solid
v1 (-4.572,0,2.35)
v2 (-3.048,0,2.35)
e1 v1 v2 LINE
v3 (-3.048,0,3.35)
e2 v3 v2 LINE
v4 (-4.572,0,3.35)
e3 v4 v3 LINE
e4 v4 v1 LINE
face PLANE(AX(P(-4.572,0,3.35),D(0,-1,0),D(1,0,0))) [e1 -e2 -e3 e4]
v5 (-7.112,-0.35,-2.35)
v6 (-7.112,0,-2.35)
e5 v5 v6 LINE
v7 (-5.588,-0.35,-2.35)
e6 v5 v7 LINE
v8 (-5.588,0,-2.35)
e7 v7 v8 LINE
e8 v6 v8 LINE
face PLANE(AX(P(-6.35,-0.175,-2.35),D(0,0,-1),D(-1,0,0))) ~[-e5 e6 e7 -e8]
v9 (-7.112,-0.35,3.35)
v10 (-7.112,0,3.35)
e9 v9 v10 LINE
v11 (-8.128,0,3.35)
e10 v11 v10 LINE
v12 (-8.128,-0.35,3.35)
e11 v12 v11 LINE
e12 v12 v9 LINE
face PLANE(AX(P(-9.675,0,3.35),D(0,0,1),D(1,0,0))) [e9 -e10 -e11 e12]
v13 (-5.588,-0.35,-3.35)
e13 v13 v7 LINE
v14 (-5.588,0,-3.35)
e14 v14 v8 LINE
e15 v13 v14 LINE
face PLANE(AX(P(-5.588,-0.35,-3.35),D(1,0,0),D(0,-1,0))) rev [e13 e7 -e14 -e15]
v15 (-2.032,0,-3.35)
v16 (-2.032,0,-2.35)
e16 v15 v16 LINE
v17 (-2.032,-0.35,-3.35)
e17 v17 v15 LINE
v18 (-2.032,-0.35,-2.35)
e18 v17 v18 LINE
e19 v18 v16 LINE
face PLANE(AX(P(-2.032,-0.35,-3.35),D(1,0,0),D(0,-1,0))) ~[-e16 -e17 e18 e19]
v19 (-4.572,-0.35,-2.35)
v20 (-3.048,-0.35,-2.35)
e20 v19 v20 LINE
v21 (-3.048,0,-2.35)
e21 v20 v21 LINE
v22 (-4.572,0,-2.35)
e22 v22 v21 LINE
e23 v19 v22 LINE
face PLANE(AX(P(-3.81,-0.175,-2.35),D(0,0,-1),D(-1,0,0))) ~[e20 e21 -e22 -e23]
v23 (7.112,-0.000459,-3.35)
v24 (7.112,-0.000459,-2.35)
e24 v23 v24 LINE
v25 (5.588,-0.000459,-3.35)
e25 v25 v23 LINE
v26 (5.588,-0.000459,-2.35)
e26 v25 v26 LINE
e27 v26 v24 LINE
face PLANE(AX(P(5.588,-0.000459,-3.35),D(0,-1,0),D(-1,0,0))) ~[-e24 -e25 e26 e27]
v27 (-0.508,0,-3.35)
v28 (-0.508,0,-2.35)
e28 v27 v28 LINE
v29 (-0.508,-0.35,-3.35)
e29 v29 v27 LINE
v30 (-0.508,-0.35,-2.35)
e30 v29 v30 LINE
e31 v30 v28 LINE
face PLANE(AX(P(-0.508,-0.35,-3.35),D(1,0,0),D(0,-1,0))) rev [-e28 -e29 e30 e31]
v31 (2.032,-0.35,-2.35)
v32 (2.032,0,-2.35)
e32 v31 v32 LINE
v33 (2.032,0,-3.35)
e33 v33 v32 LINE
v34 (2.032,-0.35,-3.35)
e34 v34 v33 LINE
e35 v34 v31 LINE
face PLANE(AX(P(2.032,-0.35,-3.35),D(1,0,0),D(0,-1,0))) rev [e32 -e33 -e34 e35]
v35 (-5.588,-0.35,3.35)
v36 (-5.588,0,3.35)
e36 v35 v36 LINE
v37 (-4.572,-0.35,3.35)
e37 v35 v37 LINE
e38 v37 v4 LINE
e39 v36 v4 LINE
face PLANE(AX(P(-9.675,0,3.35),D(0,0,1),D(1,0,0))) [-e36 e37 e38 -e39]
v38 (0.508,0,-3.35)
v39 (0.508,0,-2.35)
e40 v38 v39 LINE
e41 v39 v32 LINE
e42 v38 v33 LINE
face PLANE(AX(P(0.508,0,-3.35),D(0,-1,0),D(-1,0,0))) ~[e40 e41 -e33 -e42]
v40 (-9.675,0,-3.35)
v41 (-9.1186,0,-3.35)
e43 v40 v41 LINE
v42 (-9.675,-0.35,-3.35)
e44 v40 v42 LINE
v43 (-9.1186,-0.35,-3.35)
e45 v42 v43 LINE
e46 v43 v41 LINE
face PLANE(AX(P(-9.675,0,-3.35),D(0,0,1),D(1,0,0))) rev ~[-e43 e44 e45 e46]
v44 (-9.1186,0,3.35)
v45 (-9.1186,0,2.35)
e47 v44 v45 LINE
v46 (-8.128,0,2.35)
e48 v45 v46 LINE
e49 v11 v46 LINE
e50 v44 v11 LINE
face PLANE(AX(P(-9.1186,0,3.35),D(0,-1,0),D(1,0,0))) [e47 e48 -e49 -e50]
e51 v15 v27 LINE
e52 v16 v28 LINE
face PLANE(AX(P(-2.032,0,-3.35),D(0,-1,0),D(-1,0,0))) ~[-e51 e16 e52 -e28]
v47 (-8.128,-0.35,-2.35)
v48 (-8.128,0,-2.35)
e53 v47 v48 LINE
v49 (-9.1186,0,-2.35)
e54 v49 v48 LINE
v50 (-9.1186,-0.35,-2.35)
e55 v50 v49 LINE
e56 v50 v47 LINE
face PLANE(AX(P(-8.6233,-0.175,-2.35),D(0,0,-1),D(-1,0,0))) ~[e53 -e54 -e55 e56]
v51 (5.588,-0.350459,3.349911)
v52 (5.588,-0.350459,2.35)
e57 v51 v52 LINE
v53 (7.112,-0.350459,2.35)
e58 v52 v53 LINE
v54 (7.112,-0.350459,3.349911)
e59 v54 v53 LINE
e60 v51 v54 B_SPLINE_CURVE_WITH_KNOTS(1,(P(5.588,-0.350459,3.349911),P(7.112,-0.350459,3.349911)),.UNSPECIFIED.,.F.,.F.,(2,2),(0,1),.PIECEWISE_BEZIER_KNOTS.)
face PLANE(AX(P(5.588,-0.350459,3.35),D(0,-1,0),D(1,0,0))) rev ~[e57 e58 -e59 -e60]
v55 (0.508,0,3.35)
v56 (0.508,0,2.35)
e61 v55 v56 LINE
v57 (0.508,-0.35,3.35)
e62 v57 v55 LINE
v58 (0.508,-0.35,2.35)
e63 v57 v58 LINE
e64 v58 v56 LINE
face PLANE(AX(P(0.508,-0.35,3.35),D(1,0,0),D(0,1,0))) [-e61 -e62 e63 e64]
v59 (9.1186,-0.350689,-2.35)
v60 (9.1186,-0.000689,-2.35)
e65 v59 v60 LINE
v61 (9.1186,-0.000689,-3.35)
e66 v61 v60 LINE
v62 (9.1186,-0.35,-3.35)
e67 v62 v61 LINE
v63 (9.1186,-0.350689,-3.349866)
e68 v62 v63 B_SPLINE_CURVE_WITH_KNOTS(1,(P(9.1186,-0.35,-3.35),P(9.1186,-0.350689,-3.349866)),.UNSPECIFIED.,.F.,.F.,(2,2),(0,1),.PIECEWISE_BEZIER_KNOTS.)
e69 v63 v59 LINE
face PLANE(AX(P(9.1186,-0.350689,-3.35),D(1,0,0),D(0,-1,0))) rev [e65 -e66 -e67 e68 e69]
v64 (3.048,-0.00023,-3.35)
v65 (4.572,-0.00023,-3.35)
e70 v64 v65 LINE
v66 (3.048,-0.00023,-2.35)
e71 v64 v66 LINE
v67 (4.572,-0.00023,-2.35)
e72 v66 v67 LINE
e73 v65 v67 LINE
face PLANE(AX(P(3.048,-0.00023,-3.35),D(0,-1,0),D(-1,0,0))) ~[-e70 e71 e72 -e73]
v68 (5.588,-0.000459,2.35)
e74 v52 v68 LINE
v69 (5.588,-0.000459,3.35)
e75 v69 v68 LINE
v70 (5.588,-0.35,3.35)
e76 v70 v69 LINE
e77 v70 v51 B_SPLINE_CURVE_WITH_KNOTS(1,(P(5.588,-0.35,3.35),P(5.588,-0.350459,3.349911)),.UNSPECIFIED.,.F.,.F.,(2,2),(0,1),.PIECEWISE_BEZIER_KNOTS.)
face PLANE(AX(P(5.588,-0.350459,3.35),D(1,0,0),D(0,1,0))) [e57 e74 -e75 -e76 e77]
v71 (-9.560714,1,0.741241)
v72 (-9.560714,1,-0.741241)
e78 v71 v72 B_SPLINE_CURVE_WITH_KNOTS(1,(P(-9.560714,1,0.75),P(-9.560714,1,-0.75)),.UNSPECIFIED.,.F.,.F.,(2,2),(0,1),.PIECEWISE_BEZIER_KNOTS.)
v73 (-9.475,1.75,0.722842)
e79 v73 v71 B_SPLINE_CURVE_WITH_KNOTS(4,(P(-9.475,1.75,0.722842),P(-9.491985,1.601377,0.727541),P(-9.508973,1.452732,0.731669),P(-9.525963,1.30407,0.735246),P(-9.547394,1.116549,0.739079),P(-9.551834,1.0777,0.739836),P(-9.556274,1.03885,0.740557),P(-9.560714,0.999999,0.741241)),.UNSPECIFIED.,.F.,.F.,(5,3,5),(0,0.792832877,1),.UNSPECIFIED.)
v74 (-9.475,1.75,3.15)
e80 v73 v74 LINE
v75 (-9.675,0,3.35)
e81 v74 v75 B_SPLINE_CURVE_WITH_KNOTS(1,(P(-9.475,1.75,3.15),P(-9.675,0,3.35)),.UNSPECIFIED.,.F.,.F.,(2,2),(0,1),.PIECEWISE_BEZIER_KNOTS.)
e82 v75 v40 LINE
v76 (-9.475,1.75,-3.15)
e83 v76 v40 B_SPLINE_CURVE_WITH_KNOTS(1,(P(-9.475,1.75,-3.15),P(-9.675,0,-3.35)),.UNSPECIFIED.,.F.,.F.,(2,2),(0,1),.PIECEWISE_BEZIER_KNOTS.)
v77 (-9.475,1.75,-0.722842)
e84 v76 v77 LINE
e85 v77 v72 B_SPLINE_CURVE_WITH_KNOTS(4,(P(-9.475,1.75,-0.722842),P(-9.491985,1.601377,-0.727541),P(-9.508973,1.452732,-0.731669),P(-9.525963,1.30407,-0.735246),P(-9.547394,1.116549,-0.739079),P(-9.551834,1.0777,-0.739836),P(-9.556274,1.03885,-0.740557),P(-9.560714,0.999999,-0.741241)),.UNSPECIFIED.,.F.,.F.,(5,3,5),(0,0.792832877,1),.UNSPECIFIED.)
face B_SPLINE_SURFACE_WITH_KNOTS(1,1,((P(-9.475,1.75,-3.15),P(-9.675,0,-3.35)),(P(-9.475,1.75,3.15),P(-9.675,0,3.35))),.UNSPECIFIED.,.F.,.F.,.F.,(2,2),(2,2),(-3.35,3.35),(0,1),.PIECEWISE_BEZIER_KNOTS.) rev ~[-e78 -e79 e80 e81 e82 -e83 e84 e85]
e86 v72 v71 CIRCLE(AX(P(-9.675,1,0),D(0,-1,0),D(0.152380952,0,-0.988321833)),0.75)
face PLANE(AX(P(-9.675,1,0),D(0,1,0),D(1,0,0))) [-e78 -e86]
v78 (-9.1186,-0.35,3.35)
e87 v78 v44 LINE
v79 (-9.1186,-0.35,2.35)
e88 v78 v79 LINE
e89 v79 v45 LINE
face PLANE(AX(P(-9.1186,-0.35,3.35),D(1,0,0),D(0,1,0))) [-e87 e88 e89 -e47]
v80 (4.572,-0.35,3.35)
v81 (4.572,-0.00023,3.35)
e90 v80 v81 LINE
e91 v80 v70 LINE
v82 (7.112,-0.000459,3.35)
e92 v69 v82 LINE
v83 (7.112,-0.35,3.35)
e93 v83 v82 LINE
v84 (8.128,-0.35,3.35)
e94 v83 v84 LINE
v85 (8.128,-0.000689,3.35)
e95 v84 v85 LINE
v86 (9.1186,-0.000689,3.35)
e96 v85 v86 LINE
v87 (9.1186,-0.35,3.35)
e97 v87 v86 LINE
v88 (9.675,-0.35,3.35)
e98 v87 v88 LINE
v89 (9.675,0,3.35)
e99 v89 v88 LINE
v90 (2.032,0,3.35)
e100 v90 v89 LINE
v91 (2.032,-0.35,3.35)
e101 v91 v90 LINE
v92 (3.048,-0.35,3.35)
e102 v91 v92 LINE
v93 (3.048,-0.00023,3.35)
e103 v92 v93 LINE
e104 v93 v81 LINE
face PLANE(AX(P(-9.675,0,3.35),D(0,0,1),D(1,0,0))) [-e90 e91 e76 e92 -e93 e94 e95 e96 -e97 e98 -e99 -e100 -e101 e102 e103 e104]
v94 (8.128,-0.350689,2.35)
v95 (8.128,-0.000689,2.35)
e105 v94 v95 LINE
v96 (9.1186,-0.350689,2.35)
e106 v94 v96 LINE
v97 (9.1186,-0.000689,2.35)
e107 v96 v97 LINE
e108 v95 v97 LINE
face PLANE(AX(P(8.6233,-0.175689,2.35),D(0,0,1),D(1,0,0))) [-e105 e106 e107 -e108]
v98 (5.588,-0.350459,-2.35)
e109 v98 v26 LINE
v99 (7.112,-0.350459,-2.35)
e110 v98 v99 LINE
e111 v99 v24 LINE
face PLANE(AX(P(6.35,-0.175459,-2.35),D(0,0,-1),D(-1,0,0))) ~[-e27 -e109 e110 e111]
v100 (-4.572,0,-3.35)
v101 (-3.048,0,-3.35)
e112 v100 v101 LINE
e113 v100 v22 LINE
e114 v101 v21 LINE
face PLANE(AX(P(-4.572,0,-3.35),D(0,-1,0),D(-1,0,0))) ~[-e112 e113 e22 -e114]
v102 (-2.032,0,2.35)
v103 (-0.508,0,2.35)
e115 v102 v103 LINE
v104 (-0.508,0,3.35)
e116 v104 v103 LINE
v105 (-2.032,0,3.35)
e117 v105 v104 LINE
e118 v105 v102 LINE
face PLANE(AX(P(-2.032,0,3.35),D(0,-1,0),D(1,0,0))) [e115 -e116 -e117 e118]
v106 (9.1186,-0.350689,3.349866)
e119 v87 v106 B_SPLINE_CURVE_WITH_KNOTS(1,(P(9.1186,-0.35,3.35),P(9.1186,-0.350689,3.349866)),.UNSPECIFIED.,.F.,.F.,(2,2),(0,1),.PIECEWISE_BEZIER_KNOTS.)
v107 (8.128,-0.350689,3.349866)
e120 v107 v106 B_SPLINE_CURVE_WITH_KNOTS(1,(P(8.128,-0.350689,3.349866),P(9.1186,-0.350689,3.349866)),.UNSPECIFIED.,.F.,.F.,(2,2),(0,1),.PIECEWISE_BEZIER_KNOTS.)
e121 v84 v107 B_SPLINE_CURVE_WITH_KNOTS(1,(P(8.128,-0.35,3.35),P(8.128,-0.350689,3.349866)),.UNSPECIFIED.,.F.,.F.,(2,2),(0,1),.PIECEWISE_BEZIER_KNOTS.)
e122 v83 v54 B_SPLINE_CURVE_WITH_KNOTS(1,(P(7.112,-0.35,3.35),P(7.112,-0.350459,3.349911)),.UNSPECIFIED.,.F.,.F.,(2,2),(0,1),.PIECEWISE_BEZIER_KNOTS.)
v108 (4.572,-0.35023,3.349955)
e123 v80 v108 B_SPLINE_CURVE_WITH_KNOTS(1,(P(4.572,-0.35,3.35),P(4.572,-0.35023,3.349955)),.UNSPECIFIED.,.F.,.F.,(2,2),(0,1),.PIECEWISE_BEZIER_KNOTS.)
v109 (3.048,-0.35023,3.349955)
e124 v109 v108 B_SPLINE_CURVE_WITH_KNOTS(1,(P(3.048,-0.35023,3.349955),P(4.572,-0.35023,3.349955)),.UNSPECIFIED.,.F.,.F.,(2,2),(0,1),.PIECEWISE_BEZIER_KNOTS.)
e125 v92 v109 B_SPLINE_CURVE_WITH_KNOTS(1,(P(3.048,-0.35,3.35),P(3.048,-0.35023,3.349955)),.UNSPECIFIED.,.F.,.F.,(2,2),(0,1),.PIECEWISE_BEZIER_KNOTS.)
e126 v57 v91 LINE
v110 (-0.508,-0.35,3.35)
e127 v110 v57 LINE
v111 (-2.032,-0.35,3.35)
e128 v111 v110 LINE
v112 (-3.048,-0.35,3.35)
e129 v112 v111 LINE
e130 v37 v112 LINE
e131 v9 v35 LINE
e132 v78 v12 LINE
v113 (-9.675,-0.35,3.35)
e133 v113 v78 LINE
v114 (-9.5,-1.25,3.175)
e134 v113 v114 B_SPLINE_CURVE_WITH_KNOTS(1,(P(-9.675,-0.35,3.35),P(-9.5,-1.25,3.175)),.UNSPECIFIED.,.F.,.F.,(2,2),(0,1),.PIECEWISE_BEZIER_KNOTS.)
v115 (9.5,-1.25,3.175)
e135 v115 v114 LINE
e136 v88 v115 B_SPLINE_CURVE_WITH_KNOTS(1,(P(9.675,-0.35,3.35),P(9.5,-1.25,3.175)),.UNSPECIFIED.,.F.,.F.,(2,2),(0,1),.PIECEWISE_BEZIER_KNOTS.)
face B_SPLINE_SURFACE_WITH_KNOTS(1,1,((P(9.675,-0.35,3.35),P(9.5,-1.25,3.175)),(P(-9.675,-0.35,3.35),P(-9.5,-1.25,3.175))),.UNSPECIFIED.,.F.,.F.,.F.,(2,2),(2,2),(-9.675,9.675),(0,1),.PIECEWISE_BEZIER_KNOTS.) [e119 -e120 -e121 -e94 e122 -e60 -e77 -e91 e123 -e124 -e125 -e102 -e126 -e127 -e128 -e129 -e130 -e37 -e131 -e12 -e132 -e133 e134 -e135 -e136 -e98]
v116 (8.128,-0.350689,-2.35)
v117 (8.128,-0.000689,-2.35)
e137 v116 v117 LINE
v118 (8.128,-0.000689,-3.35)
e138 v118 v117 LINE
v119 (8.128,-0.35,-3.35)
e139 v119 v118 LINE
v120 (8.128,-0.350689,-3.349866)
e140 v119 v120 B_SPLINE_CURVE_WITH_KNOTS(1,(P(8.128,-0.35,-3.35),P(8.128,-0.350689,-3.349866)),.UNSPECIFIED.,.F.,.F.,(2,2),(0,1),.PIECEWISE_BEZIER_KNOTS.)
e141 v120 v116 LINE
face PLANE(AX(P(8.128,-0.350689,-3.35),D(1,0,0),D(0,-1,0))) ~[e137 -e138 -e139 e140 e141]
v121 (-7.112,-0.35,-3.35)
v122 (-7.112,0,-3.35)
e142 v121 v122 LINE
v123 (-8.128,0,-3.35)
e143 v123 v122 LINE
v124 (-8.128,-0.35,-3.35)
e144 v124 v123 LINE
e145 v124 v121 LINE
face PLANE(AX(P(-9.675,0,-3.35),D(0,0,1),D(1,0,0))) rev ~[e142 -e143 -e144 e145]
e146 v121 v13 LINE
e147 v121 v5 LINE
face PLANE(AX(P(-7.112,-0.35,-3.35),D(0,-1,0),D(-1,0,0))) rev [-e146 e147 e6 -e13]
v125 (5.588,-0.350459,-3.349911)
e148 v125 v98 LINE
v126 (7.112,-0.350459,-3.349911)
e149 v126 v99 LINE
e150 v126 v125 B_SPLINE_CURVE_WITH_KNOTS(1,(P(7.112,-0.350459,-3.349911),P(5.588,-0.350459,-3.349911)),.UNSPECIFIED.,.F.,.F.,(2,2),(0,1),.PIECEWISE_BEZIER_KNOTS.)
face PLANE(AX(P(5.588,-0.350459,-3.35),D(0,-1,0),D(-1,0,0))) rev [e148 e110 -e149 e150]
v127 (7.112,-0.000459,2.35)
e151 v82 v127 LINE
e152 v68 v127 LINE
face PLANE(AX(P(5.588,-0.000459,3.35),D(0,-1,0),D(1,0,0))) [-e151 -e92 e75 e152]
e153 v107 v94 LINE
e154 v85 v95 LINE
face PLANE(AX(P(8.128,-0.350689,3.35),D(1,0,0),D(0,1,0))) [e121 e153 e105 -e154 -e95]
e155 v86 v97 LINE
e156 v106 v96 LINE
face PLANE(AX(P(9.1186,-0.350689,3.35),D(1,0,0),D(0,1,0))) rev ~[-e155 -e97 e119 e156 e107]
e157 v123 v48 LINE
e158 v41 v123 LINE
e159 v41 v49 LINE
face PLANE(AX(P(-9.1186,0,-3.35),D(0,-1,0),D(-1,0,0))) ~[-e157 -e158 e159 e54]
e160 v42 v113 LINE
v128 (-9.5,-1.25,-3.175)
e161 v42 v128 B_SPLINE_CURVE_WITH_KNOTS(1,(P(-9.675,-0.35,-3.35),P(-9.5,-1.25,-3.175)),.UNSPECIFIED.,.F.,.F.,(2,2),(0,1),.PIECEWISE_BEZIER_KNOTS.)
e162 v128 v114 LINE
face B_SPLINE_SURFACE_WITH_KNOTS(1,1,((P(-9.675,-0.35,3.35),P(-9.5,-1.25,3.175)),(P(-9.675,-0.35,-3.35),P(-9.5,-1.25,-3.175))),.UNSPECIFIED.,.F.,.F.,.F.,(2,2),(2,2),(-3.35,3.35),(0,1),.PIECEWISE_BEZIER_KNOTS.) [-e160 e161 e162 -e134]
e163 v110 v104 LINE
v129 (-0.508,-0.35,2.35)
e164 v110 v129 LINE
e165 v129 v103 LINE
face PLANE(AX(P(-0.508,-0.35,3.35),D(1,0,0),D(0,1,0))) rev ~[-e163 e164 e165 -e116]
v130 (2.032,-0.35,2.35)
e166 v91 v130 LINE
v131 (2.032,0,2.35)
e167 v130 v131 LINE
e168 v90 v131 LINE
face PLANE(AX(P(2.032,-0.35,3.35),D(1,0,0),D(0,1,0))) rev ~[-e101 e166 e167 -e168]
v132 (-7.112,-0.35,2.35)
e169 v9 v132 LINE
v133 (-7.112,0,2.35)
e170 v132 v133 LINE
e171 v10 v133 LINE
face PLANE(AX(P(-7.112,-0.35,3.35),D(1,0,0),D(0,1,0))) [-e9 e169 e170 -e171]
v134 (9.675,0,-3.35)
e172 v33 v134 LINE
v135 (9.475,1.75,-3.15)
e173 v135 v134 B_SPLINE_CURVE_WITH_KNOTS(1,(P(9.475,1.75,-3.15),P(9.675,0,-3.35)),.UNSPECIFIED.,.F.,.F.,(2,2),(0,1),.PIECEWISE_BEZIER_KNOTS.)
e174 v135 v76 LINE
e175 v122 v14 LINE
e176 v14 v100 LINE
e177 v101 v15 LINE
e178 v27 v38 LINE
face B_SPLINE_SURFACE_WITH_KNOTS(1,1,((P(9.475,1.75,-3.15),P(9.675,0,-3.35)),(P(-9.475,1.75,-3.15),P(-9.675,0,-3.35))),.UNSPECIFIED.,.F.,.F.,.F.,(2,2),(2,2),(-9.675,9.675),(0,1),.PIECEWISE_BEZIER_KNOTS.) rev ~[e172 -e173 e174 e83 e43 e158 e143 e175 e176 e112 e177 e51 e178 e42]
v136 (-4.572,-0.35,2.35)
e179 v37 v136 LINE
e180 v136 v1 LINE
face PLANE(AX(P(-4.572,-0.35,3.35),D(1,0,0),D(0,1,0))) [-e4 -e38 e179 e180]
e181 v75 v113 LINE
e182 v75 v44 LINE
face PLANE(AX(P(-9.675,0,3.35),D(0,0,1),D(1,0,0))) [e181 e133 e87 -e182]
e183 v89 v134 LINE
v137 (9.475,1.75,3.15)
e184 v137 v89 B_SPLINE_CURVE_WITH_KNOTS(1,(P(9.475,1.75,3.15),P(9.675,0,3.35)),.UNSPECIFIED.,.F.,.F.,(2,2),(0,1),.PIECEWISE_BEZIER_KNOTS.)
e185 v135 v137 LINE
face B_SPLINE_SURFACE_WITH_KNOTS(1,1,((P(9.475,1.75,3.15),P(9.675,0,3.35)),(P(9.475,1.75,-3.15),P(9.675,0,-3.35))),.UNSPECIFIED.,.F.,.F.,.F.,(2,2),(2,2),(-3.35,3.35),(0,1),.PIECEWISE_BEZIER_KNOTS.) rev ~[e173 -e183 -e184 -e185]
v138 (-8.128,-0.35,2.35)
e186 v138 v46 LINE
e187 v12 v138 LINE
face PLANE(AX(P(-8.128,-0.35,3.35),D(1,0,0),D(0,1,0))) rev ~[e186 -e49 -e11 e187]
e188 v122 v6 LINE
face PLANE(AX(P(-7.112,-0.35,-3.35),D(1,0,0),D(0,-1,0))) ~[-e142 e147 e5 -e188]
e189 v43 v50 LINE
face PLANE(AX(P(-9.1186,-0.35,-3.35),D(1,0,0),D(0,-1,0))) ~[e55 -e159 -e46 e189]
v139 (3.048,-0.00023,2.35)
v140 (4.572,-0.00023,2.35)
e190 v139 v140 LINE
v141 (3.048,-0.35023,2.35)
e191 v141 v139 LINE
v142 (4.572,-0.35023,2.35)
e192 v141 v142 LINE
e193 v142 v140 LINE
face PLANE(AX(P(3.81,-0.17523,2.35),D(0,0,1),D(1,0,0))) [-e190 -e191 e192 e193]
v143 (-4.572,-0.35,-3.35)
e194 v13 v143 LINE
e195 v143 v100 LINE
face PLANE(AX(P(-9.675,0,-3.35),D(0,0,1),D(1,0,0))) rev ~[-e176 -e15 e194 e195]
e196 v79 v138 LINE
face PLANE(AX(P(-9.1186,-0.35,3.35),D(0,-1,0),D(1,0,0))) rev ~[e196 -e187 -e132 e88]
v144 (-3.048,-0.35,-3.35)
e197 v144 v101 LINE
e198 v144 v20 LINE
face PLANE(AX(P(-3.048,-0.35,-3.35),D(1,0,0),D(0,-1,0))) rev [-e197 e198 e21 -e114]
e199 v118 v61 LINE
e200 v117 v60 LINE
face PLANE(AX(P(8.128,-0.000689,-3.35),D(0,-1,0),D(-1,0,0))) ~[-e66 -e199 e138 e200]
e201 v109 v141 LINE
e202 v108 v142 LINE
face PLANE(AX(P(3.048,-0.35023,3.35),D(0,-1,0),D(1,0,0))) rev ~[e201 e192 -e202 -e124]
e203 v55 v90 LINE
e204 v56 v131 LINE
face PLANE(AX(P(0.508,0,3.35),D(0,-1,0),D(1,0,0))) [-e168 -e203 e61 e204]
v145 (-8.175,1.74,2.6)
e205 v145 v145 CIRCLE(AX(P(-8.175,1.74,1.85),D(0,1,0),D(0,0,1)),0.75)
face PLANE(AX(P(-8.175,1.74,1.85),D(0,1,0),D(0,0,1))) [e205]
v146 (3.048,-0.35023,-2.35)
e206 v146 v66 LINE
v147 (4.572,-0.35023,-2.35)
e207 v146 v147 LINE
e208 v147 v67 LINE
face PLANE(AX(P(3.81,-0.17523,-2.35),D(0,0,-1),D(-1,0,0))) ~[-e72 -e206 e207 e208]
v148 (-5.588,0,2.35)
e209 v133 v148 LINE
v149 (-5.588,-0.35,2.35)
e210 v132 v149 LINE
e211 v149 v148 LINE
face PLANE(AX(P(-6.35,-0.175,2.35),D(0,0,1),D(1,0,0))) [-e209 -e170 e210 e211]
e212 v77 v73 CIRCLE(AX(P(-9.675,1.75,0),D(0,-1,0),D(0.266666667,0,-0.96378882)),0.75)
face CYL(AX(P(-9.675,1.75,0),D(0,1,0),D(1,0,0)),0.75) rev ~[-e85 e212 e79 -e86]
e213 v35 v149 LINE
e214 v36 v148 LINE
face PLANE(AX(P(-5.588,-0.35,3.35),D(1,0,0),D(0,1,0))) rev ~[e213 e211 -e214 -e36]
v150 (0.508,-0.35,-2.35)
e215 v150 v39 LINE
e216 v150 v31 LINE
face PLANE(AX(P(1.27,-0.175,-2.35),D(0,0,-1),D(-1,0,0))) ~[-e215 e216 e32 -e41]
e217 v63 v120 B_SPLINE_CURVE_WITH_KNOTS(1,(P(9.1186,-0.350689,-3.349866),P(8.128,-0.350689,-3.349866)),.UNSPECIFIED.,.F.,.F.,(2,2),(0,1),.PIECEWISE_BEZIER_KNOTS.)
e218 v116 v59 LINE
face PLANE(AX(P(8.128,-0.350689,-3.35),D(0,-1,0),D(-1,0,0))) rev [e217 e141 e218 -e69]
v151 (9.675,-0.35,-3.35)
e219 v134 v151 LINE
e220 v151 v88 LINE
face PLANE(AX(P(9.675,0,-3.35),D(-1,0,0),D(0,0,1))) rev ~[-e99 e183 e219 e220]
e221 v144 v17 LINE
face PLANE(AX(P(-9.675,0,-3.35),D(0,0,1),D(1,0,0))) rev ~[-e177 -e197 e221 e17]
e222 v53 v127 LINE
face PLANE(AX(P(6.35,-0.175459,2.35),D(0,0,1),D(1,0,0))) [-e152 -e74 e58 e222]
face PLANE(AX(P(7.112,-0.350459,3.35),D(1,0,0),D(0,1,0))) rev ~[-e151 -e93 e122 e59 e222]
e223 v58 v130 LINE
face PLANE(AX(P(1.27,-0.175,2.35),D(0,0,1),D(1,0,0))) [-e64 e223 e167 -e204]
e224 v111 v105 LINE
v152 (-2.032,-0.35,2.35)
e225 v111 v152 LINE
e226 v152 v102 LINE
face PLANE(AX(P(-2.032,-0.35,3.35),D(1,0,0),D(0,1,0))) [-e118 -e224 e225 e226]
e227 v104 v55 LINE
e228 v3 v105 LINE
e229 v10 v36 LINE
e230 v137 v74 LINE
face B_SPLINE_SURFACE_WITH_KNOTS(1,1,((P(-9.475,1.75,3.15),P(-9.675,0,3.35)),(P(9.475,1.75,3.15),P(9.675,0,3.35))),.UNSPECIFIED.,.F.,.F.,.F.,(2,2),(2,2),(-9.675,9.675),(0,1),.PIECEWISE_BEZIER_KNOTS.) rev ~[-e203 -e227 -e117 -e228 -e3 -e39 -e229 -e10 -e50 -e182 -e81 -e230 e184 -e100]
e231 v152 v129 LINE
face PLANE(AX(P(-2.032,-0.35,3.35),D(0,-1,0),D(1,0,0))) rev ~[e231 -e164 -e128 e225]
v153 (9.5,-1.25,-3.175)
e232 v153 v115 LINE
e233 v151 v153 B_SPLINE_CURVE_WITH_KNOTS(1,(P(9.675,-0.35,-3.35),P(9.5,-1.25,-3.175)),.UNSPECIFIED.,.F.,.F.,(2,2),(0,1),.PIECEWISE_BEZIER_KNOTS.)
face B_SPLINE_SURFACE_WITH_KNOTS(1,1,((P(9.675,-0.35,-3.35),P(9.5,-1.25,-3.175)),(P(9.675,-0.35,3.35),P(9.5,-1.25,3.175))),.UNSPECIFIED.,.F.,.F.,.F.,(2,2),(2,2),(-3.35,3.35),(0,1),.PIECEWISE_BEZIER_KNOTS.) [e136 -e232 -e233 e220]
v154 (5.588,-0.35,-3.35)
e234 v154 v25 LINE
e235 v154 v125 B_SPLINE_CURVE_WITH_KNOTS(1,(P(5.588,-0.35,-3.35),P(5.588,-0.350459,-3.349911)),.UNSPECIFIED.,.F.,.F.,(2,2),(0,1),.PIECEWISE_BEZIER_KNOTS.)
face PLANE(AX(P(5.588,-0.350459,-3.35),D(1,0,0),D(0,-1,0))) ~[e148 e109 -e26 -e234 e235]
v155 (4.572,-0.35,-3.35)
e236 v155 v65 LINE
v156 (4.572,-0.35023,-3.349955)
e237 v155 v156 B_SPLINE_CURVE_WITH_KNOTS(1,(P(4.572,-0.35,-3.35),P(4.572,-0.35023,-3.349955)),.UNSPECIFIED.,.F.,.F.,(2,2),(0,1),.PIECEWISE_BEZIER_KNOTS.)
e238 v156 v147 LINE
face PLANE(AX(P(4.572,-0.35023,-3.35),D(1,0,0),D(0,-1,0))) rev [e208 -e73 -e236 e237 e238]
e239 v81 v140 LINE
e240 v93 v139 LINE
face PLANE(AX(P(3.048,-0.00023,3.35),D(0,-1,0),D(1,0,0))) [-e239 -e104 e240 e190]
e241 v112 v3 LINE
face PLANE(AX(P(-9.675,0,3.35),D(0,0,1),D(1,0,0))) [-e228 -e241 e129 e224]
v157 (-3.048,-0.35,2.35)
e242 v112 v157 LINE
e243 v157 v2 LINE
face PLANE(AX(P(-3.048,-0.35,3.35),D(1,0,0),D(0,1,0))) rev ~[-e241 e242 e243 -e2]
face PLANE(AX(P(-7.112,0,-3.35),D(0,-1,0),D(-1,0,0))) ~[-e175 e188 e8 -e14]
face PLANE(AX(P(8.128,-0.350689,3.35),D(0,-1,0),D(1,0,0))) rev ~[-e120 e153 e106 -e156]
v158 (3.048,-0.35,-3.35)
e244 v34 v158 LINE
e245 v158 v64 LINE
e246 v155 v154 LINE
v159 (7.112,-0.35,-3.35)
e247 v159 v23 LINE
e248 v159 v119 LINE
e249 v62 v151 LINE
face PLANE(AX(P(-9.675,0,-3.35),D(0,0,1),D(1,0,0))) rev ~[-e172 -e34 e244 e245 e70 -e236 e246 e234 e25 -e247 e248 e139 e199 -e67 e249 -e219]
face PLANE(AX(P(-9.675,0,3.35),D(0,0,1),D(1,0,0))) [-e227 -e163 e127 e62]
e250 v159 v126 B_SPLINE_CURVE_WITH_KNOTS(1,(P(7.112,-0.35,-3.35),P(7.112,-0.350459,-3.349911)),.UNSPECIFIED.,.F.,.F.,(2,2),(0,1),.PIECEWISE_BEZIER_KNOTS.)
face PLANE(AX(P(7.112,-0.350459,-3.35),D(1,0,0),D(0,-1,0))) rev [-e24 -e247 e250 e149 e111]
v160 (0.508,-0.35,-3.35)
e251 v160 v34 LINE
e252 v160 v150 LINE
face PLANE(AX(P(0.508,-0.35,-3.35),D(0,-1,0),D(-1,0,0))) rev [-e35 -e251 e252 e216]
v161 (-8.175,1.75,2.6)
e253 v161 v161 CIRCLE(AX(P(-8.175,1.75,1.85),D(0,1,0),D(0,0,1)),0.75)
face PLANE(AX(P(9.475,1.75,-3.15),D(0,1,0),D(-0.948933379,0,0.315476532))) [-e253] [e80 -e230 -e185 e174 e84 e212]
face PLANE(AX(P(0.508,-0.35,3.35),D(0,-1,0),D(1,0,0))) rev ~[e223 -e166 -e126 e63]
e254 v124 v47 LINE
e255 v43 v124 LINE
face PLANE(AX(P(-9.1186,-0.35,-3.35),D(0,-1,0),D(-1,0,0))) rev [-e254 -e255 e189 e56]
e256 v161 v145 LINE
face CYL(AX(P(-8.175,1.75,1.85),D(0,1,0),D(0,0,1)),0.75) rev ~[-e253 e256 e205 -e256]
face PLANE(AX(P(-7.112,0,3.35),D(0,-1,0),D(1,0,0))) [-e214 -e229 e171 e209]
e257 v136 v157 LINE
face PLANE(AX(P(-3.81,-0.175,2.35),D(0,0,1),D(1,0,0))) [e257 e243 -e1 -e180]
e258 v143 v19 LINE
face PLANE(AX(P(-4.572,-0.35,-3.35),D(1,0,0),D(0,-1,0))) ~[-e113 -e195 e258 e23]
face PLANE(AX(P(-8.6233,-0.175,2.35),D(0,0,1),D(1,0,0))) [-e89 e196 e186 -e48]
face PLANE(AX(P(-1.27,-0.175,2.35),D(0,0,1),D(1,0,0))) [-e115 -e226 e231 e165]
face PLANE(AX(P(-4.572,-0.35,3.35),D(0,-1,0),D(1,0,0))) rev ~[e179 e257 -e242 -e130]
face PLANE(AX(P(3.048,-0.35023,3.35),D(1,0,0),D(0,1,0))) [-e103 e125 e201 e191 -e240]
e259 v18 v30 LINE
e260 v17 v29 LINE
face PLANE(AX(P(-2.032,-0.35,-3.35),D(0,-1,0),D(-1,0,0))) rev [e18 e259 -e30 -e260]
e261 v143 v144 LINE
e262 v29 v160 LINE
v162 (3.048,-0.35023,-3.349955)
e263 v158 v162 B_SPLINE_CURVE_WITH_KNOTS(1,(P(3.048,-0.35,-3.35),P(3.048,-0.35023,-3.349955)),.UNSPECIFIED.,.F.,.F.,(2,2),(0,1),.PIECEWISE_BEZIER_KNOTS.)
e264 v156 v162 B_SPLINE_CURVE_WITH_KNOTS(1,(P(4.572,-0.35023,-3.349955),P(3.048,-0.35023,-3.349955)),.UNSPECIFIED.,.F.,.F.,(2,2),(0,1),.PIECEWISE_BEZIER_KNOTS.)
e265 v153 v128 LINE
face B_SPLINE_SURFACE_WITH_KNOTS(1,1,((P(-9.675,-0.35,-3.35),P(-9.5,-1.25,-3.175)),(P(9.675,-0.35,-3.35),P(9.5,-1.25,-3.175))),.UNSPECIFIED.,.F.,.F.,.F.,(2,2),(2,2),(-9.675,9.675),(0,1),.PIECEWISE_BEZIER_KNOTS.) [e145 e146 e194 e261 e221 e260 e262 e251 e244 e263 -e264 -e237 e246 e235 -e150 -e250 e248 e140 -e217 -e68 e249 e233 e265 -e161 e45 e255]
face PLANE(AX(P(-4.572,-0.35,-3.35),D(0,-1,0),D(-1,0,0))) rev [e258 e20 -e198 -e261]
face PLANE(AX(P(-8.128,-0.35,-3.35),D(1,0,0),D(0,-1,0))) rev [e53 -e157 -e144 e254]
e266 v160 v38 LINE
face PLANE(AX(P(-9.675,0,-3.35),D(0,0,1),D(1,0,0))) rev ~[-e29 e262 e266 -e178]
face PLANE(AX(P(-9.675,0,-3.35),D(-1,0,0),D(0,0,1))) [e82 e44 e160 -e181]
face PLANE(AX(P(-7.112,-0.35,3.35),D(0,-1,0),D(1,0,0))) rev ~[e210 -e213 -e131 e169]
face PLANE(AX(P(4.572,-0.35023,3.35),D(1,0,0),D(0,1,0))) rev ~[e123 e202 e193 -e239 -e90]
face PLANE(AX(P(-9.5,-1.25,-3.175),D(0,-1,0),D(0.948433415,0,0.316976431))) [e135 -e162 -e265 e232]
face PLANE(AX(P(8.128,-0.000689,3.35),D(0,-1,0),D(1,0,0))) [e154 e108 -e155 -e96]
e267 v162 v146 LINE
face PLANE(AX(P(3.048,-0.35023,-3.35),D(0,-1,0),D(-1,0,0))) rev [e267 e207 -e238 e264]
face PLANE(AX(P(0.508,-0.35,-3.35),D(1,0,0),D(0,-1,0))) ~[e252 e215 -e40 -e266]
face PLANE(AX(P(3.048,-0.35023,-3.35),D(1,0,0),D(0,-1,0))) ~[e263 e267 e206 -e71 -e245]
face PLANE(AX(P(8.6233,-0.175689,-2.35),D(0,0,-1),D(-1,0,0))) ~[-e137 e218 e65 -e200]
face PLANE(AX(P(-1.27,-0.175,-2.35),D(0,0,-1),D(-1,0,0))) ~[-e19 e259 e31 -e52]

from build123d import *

# Parameters (mm, degrees)
SKETCH2_W      = 18.95
SKETCH2_H      = 6.3
SKETCH1_W      = 19.35
SKETCH1_H      = 6.7
SKETCH3_W      = 19.35
SKETCH3_H      = 6.7
EXTRUDE1_DEPTH = 0.35
SKETCH4_W      = 19.35
SKETCH4_H      = 6.7
SKETCH5_W      = 19
SKETCH5_H      = 6.35
SKETCH7_R      = 0.75
EXTRUDE2_DEPTH = 0.75
SKETCH8_R      = 0.75
EXTRUDE5_DEPTH = 0.01
SKETCH11_W     = 1.524
SKETCH11_H     = 0.35
SKETCH11_W_2   = 0.9906
EXTRUDE3_DEPTH = 1


with BuildPart() as part:
    # Sketch2 → Loft1 section 0
    with BuildSketch(Plane(origin=(0, 1.75, 0), x_dir=(-1, 0, 0), z_dir=(0, 1, 0))):
        Rectangle(SKETCH2_W, SKETCH2_H)
    # Sketch1 → Loft1 section 1
    with BuildSketch(Plane(origin=(0, 0, 0), x_dir=(1, 0, 0), z_dir=(0, 1, 0))):
        Rectangle(SKETCH1_W, SKETCH1_H)
    loft()

    # Sketch3 → Extrude1 (add)
    with BuildSketch(Plane.XZ):
        Rectangle(SKETCH3_W, SKETCH3_H)
    extrude(amount=EXTRUDE1_DEPTH)

    # Sketch4 → Loft2 section 0
    with BuildSketch(Plane.XZ.offset(0.35)):
        Rectangle(SKETCH4_W, SKETCH4_H)
    # Sketch5 → Loft2 section 1
    with BuildSketch(Plane(origin=(0, -1.25, 0), x_dir=(-1, 0, 0), z_dir=(0, 1, 0))):
        Rectangle(SKETCH5_W, SKETCH5_H)
    loft()

    # Sketch7 → Extrude2 (cut)
    with BuildSketch(Plane(origin=(0, 1.75, 0), x_dir=(1, 0, 0), z_dir=(0, 1, 0))):
        with Locations((-9.675, 0)):
            Circle(SKETCH7_R)
    extrude(amount=-EXTRUDE2_DEPTH, mode=Mode.SUBTRACT)

    # Sketch8 → Extrude5 (cut)
    with BuildSketch(Plane(origin=(0, 1.75, 0), x_dir=(1, 0, 0), z_dir=(0, 1, 0))):
        with Locations(Location((-8.175, -1.85, 0), (0, 0, 270))):  # turned: the seam where the file's is
            Circle(SKETCH8_R)
    extrude(amount=-EXTRUDE5_DEPTH, mode=Mode.SUBTRACT)

    # Sketch11 → Extrude3 (cut)
    with BuildSketch(Plane.XY.offset(3.35)):
        with Locations((-3.81, -0.175)):
            Rectangle(SKETCH11_W, SKETCH11_H)
        with Locations((-1.27, -0.175)):
            Rectangle(SKETCH11_W, SKETCH11_H)
        with Locations((1.27, -0.175)):
            Rectangle(SKETCH11_W, SKETCH11_H)
        with Locations((3.80999999, -0.175229628)):
            Rectangle(SKETCH11_W, SKETCH11_H)
        with Locations((6.349999979, -0.175459257)):
            Rectangle(SKETCH11_W, SKETCH11_H)
        with Locations((8.623299969, -0.175688885)):
            Rectangle(SKETCH11_W_2, SKETCH11_H)
        with Locations((-8.6233, -0.175)):
            Rectangle(SKETCH11_W_2, SKETCH11_H)
        with Locations((-6.35, -0.175)):
            Rectangle(SKETCH11_W, SKETCH11_H)
    extrude3 = extrude(amount=-EXTRUDE3_DEPTH, mode=Mode.SUBTRACT)

    # Mirror1: Extrude3 across plane
    add(extrude3.mirror(Plane.XY), mode=Mode.SUBTRACT)


solid = part.part
